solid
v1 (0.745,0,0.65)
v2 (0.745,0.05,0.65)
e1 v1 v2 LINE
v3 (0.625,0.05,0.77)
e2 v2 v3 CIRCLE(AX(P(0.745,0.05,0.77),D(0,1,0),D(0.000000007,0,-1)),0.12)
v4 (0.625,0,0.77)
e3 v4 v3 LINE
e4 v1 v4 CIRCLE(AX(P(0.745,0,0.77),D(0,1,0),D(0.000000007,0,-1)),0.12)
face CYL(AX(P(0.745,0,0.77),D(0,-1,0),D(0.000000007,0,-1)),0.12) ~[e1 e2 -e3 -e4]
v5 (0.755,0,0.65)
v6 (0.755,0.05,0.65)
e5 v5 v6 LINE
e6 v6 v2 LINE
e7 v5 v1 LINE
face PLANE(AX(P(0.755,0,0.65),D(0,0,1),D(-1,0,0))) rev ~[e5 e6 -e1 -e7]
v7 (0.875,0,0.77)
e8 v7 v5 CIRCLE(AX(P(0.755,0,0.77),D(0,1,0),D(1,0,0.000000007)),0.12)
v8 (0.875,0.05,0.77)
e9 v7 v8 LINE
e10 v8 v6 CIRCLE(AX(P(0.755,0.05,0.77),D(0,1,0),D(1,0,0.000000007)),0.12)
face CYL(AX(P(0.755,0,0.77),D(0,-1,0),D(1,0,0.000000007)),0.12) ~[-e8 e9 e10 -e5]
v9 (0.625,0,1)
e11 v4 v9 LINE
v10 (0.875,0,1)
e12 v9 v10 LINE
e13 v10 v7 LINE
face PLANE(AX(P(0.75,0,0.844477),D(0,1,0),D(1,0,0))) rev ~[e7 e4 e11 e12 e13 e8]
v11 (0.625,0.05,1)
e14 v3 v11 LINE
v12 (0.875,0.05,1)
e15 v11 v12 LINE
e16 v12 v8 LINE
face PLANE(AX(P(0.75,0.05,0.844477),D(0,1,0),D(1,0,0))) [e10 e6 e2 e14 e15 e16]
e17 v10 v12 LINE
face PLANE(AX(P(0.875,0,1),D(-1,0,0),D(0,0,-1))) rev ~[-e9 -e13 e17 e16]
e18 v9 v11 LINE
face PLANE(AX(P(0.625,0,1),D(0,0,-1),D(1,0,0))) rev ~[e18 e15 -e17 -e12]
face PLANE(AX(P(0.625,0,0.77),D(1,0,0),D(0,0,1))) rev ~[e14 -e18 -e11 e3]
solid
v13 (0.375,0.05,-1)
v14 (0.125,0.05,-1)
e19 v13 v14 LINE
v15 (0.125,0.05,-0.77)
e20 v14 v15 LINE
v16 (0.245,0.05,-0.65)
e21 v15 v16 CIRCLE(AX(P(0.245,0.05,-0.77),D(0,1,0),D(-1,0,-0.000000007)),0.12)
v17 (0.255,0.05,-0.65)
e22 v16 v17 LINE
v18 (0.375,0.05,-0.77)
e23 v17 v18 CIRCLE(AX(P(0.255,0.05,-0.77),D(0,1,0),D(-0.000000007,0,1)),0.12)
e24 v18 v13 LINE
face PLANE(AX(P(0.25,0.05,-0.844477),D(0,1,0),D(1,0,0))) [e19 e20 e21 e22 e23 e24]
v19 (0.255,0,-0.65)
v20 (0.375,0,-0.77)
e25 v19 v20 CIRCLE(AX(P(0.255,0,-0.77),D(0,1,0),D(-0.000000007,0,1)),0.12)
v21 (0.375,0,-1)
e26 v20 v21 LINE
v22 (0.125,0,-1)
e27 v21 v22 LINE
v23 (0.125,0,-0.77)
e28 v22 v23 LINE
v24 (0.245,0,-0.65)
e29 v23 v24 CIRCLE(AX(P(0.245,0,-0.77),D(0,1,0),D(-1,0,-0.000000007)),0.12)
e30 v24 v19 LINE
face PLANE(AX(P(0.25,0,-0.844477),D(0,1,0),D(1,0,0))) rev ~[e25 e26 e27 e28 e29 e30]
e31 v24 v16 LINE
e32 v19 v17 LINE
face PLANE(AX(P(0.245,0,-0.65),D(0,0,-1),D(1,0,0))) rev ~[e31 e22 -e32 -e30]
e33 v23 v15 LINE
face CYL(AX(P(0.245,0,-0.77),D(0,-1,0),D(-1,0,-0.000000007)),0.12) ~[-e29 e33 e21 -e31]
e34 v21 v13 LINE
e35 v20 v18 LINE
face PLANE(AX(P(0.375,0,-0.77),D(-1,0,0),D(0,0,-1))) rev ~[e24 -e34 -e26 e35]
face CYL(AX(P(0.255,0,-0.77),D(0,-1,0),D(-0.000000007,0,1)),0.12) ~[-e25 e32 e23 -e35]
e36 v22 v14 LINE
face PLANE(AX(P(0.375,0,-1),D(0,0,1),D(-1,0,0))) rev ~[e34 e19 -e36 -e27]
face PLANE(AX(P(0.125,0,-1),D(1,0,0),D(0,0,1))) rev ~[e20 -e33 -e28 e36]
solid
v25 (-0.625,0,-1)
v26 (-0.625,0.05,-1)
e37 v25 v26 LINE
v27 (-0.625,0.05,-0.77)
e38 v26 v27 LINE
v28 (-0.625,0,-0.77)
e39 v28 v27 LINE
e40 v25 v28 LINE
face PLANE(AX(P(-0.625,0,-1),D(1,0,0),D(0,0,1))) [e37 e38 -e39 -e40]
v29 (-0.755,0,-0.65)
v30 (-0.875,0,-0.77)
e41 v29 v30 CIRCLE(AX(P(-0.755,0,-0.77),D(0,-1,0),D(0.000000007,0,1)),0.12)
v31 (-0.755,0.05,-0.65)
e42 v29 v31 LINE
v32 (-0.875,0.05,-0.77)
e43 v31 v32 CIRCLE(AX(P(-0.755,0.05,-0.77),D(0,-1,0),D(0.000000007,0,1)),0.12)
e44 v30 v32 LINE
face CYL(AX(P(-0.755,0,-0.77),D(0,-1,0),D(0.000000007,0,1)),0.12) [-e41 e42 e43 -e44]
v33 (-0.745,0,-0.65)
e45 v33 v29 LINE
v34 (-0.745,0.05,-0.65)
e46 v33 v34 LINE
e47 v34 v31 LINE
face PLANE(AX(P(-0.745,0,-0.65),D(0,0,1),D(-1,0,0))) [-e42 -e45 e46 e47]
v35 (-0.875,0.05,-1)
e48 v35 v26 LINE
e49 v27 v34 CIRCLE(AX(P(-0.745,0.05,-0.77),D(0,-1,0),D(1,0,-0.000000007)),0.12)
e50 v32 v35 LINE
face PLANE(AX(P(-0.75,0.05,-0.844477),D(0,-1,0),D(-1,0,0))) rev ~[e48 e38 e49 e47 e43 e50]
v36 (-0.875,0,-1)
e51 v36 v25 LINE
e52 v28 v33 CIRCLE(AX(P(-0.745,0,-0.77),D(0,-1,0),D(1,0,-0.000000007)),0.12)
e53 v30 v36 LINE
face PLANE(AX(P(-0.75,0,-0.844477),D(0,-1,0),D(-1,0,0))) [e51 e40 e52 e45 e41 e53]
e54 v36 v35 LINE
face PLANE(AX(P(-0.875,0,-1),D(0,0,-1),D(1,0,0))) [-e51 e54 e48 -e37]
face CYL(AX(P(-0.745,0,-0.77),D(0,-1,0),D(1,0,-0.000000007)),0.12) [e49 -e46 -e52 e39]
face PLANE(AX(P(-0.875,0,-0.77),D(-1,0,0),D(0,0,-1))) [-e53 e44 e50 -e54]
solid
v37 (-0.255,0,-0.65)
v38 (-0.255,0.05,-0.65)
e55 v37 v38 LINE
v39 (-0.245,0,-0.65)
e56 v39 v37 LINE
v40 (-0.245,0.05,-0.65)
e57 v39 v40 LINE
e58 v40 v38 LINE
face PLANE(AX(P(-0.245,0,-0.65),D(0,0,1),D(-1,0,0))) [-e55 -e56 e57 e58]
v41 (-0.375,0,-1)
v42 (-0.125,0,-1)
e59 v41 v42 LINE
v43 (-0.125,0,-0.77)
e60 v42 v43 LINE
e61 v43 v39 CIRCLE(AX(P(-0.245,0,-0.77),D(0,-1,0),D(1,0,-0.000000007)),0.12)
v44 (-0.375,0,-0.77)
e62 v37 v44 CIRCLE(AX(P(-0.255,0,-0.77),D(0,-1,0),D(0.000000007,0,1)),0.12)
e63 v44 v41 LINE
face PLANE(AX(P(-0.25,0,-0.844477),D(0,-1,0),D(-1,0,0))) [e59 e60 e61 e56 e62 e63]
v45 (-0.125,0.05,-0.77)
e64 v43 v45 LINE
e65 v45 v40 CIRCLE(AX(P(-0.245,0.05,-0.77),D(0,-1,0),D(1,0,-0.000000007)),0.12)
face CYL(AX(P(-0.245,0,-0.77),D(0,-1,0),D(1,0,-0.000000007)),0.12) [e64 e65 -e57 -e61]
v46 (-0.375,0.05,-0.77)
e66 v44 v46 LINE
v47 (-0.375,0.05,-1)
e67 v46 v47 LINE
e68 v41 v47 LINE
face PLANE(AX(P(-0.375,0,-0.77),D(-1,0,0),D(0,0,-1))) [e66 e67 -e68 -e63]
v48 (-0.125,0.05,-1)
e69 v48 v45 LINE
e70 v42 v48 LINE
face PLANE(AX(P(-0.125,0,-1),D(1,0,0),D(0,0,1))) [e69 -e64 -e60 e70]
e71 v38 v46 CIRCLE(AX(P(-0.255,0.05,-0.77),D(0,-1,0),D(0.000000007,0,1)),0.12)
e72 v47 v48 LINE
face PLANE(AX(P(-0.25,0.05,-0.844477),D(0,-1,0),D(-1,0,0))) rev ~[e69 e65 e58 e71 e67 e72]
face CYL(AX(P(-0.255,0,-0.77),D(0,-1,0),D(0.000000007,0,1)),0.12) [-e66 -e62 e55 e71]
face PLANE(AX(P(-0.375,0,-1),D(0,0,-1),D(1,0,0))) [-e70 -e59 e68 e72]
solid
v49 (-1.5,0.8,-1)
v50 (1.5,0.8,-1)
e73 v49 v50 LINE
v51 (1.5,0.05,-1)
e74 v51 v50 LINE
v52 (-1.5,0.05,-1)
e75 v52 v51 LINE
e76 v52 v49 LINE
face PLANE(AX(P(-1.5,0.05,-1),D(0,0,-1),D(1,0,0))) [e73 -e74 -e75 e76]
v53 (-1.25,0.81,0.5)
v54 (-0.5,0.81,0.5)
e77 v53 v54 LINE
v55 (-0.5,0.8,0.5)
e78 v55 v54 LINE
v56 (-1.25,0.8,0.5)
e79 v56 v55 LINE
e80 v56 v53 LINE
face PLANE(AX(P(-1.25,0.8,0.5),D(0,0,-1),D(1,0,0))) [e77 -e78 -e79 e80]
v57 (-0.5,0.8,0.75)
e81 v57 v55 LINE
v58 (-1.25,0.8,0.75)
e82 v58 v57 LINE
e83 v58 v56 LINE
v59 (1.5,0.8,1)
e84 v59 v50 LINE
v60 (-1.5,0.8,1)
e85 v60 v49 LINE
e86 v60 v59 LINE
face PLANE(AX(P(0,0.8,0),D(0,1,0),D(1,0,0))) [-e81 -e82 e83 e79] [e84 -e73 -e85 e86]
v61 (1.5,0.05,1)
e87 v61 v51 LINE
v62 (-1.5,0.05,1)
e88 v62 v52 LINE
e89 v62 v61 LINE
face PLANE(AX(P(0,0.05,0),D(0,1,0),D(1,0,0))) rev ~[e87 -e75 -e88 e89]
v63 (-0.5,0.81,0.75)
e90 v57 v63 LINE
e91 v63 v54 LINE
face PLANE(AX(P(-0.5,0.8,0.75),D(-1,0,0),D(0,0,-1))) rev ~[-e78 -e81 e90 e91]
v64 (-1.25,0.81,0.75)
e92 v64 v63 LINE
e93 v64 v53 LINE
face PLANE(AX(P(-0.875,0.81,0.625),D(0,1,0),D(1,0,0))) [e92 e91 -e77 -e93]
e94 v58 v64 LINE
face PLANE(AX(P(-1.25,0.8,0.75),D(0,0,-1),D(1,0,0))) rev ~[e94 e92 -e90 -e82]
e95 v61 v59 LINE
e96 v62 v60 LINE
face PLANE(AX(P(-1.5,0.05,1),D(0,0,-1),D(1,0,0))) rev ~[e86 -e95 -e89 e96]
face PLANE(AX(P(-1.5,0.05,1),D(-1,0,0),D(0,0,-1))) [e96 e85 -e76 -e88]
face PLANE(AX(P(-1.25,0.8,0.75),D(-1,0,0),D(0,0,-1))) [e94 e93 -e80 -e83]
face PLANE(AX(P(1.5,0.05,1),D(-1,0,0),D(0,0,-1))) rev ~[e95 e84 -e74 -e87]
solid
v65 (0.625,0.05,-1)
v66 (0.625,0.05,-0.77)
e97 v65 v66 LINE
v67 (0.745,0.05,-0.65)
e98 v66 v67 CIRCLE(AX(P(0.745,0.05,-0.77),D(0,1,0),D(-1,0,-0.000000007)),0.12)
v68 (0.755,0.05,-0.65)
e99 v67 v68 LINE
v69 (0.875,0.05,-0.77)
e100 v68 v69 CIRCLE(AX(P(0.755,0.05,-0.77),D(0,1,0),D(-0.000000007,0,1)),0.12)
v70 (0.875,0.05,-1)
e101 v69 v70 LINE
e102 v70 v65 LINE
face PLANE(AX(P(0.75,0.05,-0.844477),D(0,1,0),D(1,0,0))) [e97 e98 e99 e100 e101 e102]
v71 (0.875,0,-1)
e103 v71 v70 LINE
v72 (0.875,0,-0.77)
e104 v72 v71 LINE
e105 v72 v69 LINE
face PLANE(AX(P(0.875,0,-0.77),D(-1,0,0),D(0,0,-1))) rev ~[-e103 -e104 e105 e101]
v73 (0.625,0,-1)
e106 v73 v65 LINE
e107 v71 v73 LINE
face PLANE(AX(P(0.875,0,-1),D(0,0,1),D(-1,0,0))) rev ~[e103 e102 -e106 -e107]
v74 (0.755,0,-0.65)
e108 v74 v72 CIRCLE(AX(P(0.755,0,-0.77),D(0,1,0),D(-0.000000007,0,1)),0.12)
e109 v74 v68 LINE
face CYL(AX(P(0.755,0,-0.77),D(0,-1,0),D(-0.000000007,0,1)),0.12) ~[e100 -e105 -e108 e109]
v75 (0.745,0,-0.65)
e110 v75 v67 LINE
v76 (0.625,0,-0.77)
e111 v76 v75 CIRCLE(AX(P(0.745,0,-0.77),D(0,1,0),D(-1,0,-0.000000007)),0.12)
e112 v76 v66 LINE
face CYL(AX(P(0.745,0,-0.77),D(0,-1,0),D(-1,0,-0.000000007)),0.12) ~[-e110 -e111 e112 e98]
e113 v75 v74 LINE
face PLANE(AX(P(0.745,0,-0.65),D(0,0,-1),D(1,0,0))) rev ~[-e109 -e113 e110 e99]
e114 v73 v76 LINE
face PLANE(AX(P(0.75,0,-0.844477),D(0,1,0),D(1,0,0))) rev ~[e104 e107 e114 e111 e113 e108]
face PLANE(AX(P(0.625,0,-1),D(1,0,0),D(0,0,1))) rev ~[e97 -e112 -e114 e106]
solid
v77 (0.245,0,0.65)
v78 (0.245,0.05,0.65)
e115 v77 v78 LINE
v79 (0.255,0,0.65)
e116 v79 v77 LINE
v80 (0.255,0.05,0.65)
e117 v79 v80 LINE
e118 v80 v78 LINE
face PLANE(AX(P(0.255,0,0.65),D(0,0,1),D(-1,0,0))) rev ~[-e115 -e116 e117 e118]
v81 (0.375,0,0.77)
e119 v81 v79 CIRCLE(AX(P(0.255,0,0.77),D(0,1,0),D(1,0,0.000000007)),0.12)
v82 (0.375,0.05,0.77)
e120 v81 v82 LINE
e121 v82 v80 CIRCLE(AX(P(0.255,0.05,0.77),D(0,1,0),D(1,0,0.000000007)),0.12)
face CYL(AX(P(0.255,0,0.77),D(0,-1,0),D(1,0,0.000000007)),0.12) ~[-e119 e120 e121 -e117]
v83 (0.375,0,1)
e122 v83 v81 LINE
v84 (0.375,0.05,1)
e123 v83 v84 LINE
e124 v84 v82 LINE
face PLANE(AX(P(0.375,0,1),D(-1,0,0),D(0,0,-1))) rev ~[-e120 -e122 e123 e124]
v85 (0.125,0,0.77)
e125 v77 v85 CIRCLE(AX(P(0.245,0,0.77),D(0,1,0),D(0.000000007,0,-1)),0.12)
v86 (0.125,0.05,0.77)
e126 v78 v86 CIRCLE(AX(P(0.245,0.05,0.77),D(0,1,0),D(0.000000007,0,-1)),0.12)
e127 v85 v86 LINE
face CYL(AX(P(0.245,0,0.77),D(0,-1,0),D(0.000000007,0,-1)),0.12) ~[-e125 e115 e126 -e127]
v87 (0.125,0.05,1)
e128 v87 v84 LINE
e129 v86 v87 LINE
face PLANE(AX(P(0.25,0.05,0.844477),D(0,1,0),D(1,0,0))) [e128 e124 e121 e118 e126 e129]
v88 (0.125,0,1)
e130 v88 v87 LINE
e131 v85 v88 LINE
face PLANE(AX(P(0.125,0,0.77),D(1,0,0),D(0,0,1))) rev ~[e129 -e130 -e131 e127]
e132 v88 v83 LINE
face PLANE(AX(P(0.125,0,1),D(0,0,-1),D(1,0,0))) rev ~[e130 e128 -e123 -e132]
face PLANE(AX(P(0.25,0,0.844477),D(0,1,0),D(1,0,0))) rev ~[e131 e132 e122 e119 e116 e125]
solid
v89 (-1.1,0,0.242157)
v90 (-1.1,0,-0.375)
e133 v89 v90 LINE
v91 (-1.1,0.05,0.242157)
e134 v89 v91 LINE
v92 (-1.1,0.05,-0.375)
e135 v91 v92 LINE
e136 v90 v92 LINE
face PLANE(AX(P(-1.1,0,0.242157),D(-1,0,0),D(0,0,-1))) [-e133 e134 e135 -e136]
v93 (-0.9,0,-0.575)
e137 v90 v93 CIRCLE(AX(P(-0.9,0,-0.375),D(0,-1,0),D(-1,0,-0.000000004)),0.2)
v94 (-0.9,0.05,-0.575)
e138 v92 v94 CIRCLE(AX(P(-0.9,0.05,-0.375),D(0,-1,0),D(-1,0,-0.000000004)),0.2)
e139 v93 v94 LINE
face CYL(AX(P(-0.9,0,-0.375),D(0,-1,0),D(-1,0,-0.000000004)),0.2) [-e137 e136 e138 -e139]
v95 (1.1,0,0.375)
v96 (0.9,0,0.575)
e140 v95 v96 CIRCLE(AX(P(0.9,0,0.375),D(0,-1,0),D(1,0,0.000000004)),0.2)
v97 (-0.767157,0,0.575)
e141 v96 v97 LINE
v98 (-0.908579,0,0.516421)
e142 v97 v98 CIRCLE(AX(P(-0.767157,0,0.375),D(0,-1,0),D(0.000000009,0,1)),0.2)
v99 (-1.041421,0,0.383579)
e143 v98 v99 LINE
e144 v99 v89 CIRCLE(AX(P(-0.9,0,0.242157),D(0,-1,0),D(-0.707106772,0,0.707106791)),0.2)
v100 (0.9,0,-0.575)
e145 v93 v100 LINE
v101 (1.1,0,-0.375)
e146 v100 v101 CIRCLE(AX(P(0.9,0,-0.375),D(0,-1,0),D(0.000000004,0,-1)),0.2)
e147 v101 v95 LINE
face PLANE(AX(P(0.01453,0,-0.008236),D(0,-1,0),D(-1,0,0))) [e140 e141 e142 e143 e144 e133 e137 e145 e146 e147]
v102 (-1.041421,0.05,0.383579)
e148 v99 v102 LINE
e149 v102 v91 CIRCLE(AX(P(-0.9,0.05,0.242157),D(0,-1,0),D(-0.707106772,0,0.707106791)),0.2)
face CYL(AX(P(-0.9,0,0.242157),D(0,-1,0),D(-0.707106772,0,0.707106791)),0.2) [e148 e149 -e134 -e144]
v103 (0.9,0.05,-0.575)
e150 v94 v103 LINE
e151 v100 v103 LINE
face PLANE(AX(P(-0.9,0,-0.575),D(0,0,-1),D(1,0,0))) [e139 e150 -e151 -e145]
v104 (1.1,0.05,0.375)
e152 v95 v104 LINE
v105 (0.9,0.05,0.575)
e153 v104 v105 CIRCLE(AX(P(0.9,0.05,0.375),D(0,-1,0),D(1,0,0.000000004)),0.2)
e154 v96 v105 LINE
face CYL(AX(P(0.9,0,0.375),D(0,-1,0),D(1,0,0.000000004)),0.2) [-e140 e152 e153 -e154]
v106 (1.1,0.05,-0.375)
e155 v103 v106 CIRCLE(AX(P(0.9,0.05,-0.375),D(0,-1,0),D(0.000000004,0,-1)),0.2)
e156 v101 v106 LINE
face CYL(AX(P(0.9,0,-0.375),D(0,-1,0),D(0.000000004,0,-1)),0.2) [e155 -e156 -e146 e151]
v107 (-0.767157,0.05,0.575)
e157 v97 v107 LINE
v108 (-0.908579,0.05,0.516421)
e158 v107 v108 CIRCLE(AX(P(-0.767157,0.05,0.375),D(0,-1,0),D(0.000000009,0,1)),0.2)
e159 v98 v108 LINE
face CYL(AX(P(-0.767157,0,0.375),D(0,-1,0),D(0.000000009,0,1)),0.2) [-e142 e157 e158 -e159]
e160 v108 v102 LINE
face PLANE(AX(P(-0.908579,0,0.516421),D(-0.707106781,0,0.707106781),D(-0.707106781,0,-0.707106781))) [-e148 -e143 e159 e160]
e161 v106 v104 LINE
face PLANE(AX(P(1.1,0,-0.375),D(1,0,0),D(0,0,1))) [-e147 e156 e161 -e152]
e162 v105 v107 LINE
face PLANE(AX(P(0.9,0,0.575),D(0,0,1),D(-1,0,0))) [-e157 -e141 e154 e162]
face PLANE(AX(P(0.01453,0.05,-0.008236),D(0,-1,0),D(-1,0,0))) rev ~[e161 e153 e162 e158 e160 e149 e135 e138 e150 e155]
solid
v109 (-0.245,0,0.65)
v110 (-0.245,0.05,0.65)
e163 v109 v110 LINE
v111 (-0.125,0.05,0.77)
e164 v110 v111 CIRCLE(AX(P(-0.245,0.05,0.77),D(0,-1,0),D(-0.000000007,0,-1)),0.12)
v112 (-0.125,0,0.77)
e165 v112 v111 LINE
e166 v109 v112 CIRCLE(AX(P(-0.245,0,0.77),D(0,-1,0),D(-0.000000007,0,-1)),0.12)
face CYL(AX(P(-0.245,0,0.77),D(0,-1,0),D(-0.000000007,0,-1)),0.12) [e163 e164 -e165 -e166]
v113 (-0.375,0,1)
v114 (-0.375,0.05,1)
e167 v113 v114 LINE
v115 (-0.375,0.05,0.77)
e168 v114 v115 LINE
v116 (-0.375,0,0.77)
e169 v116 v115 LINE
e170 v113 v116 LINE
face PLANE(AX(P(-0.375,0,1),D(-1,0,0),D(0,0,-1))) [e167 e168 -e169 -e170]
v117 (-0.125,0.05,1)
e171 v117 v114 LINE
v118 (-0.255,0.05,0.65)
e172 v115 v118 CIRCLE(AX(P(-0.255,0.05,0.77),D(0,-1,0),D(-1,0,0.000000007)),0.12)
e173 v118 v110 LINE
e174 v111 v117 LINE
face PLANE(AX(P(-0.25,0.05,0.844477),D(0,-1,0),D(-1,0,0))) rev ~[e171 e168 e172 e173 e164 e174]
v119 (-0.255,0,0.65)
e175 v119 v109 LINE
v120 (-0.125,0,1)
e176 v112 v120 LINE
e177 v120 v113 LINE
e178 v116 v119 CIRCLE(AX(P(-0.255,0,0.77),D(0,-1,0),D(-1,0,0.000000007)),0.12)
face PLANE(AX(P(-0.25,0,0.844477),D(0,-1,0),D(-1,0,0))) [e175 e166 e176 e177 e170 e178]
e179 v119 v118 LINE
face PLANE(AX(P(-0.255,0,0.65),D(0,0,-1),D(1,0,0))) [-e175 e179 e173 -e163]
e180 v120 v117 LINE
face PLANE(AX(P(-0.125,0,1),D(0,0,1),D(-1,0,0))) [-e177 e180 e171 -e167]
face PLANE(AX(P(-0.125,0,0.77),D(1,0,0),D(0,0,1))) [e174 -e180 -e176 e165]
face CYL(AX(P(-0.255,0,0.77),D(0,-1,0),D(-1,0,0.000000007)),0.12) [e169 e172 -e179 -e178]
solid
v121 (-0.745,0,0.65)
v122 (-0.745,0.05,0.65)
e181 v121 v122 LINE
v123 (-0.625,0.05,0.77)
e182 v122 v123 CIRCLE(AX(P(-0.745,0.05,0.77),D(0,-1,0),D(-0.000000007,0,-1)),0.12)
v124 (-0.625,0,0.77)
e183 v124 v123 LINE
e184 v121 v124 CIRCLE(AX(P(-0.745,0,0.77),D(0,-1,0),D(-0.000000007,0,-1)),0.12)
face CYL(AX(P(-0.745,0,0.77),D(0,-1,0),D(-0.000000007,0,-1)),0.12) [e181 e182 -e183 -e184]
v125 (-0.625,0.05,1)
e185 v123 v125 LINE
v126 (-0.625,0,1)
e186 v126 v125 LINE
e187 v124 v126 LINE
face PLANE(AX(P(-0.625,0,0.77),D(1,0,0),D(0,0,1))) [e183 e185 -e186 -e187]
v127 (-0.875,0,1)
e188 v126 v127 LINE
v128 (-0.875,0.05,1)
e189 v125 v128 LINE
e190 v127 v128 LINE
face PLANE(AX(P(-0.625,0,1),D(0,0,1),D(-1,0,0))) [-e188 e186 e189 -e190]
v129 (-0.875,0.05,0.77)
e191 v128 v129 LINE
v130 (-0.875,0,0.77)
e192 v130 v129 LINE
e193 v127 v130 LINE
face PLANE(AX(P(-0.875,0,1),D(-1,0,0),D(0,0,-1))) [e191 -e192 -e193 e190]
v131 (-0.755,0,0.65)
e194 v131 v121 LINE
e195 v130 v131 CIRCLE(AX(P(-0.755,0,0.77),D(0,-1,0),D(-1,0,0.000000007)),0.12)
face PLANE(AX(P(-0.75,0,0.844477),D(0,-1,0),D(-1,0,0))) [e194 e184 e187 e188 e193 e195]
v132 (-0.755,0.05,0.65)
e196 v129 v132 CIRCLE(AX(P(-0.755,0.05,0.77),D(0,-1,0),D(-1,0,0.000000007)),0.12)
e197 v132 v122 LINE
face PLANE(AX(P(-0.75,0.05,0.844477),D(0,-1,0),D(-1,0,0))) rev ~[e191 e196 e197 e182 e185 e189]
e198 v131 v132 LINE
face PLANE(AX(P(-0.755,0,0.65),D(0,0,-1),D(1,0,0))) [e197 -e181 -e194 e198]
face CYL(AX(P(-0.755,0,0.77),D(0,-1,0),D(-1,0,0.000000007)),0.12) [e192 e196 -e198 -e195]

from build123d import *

# Parameters (mm, degrees)
AUFSATZ_LINEAR_AUSTRAGEN1_DEPTH   = 0.05
AUFSATZ_LINEAR_AUSTRAGEN1_2_DEPTH = 0.05
AUFSATZ_LINEAR_AUSTRAGEN1_3_DEPTH = 0.05
AUFSATZ_LINEAR_AUSTRAGEN1_4_DEPTH = 0.05
AUFSATZ_LINEAR_AUSTRAGEN1_5_DEPTH = 0.05
AUFSATZ_LINEAR_AUSTRAGEN1_6_DEPTH = 0.05
AUFSATZ_LINEAR_AUSTRAGEN1_7_DEPTH = 0.05
AUFSATZ_LINEAR_AUSTRAGEN1_8_DEPTH = 0.05
AUFSATZ_LINEAR_AUSTRAGEN1_9_DEPTH = 0.05
SKIZZE2_W                         = 3
SKIZZE2_H                         = 2
AUFSATZ_LINEAR_AUSTRAGEN3_DEPTH   = 0.75
SKIZZE3_W                         = 0.75
SKIZZE3_H                         = 0.25
AUFSATZ_LINEAR_AUSTRAGEN4_DEPTH   = 0.01


with BuildPart() as part:
    # Skizze1 → Aufsatz-Linear austragen1 (new body)
    with BuildSketch(Plane(origin=(0, 0, 0), x_dir=(1, 0, 0), z_dir=(0, 1, 0))):
        with BuildLine():
            Line((-0.908578644, -0.516421356), (-1.041421356, -0.383578644))
            ThreePointArc((-1.041421356, -0.383578644), (-1.084775907, -0.318693974), (-1.1, -0.242157288))
            Line((-1.1, -0.242157288), (-1.1, 0.375))
            ThreePointArc((-1.1, 0.375), (-1.041421356, 0.516421356), (-0.9, 0.575))
            Line((-0.9, 0.575), (0.9, 0.575))
            ThreePointArc((0.9, 0.575), (1.041421356, 0.516421356), (1.1, 0.375))
            Line((1.1, 0.375), (1.1, -0.375))
            ThreePointArc((1.1, -0.375), (1.041421356, -0.516421356), (0.9, -0.575))
            Line((0.9, -0.575), (-0.767157288, -0.575))
            ThreePointArc((-0.767157288, -0.575), (-0.843693974, -0.559775907), (-0.908578644, -0.516421356))
        make_face()
    extrude(amount=AUFSATZ_LINEAR_AUSTRAGEN1_DEPTH)


with BuildPart() as body_2:
    # Skizze1 → Aufsatz-Linear austragen1 2 (new body)
    with BuildSketch(Plane(origin=(0, 0, 0), x_dir=(1, 0, 0), z_dir=(0, 1, 0))):
        with BuildLine():
            Line((-0.255, -0.65), (-0.245, -0.65))
            ThreePointArc((-0.245, -0.65), (-0.160147186, -0.685147186), (-0.125, -0.77))
            Line((-0.125, -0.77), (-0.125, -1))
            Line((-0.125, -1), (-0.375, -1))
            Line((-0.375, -1), (-0.375, -0.77))
            ThreePointArc((-0.375, -0.77), (-0.339852814, -0.685147186), (-0.255, -0.65))
        make_face()
    extrude(amount=AUFSATZ_LINEAR_AUSTRAGEN1_2_DEPTH)


with BuildPart() as body_3:
    # Skizze1 → Aufsatz-Linear austragen1 3 (new body)
    with BuildSketch(Plane(origin=(0, 0, 0), x_dir=(1, 0, 0), z_dir=(0, 1, 0))):
        with BuildLine():
            Line((0.125, -1), (0.375, -1))
            Line((0.375, -1), (0.375, -0.77))
            ThreePointArc((0.375, -0.77), (0.339852814, -0.685147186), (0.255, -0.65))
            Line((0.255, -0.65), (0.245, -0.65))
            ThreePointArc((0.245, -0.65), (0.160147186, -0.685147186), (0.125, -0.77))
            Line((0.125, -0.77), (0.125, -1))
        make_face()
    extrude(amount=AUFSATZ_LINEAR_AUSTRAGEN1_3_DEPTH)


with BuildPart() as body_4:
    # Skizze1 → Aufsatz-Linear austragen1 4 (new body)
    with BuildSketch(Plane(origin=(0, 0, 0), x_dir=(1, 0, 0), z_dir=(0, 1, 0))):
        with BuildLine():
            Line((0.625, -1), (0.875, -1))
            Line((0.875, -1), (0.875, -0.77))
            ThreePointArc((0.875, -0.77), (0.839852814, -0.685147186), (0.755, -0.65))
            Line((0.755, -0.65), (0.745, -0.65))
            ThreePointArc((0.745, -0.65), (0.660147186, -0.685147186), (0.625, -0.77))
            Line((0.625, -0.77), (0.625, -1))
        make_face()
    extrude(amount=AUFSATZ_LINEAR_AUSTRAGEN1_4_DEPTH)


with BuildPart() as body_5:
    # Skizze1 → Aufsatz-Linear austragen1 5 (new body)
    with BuildSketch(Plane(origin=(0, 0, 0), x_dir=(1, 0, 0), z_dir=(0, 1, 0))):
        with BuildLine():
            Line((-0.625, -1), (-0.875, -1))
            Line((-0.875, -1), (-0.875, -0.77))
            ThreePointArc((-0.875, -0.77), (-0.839852814, -0.685147186), (-0.755, -0.65))
            Line((-0.755, -0.65), (-0.745, -0.65))
            ThreePointArc((-0.745, -0.65), (-0.660147186, -0.685147186), (-0.625, -0.77))
            Line((-0.625, -0.77), (-0.625, -1))
        make_face()
    extrude(amount=AUFSATZ_LINEAR_AUSTRAGEN1_5_DEPTH)


with BuildPart() as body_6:
    # Skizze1 → Aufsatz-Linear austragen1 6 (new body)
    with BuildSketch(Plane(origin=(0, 0, 0), x_dir=(1, 0, 0), z_dir=(0, 1, 0))):
        with BuildLine():
            Line((-0.375, 1), (-0.125, 1))
            Line((-0.125, 1), (-0.125, 0.77))
            ThreePointArc((-0.125, 0.77), (-0.160147186, 0.685147186), (-0.245, 0.65))
            Line((-0.245, 0.65), (-0.255, 0.65))
            ThreePointArc((-0.255, 0.65), (-0.339852814, 0.685147186), (-0.375, 0.77))
            Line((-0.375, 0.77), (-0.375, 1))
        make_face()
    extrude(amount=AUFSATZ_LINEAR_AUSTRAGEN1_6_DEPTH)


with BuildPart() as body_7:
    # Skizze1 → Aufsatz-Linear austragen1 7 (new body)
    with BuildSketch(Plane(origin=(0, 0, 0), x_dir=(1, 0, 0), z_dir=(0, 1, 0))):
        with BuildLine():
            Line((-0.745, 0.65), (-0.755, 0.65))
            ThreePointArc((-0.755, 0.65), (-0.839852814, 0.685147186), (-0.875, 0.77))
            Line((-0.875, 0.77), (-0.875, 1))
            Line((-0.875, 1), (-0.625, 1))
            Line((-0.625, 1), (-0.625, 0.77))
            ThreePointArc((-0.625, 0.77), (-0.660147186, 0.685147186), (-0.745, 0.65))
        make_face()
    extrude(amount=AUFSATZ_LINEAR_AUSTRAGEN1_7_DEPTH)


with BuildPart() as body_8:
    # Skizze1 → Aufsatz-Linear austragen1 8 (new body)
    with BuildSketch(Plane(origin=(0, 0, 0), x_dir=(1, 0, 0), z_dir=(0, 1, 0))):
        with BuildLine():
            Line((0.245, 0.65), (0.255, 0.65))
            ThreePointArc((0.255, 0.65), (0.339852814, 0.685147186), (0.375, 0.77))
            Line((0.375, 0.77), (0.375, 1))
            Line((0.375, 1), (0.125, 1))
            Line((0.125, 1), (0.125, 0.77))
            ThreePointArc((0.125, 0.77), (0.160147186, 0.685147186), (0.245, 0.65))
        make_face()
    extrude(amount=AUFSATZ_LINEAR_AUSTRAGEN1_8_DEPTH)


with BuildPart() as body_9:
    # Skizze1 → Aufsatz-Linear austragen1 9 (new body)
    with BuildSketch(Plane(origin=(0, 0, 0), x_dir=(1, 0, 0), z_dir=(0, 1, 0))):
        with BuildLine():
            Line((0.745, 0.65), (0.755, 0.65))
            ThreePointArc((0.755, 0.65), (0.839852814, 0.685147186), (0.875, 0.77))
            Line((0.875, 0.77), (0.875, 1))
            Line((0.875, 1), (0.625, 1))
            Line((0.625, 1), (0.625, 0.77))
            ThreePointArc((0.625, 0.77), (0.660147186, 0.685147186), (0.745, 0.65))
        make_face()
    extrude(amount=AUFSATZ_LINEAR_AUSTRAGEN1_9_DEPTH)


with BuildPart() as body_10:
    # Skizze2 → Aufsatz-Linear austragen3 (new body)
    with BuildSketch(Plane(origin=(0, 0.05, 0), x_dir=(1, 0, 0), z_dir=(0, 1, 0))):
        Rectangle(SKIZZE2_W, SKIZZE2_H)
    extrude(amount=AUFSATZ_LINEAR_AUSTRAGEN3_DEPTH)

    # Skizze3 → Aufsatz-Linear austragen4 (add)
    with BuildSketch(Plane(origin=(0, 0.8, 0), x_dir=(1, 0, 0), z_dir=(0, 1, 0))):
        with Locations((-0.875, -0.625)):
            Rectangle(SKIZZE3_W, SKIZZE3_H)
    extrude(amount=AUFSATZ_LINEAR_AUSTRAGEN4_DEPTH)


solid = Compound([part.part, body_2.part, body_3.part, body_4.part, body_5.part, body_6.part, body_7.part, body_8.part, body_9.part, body_10.part])
